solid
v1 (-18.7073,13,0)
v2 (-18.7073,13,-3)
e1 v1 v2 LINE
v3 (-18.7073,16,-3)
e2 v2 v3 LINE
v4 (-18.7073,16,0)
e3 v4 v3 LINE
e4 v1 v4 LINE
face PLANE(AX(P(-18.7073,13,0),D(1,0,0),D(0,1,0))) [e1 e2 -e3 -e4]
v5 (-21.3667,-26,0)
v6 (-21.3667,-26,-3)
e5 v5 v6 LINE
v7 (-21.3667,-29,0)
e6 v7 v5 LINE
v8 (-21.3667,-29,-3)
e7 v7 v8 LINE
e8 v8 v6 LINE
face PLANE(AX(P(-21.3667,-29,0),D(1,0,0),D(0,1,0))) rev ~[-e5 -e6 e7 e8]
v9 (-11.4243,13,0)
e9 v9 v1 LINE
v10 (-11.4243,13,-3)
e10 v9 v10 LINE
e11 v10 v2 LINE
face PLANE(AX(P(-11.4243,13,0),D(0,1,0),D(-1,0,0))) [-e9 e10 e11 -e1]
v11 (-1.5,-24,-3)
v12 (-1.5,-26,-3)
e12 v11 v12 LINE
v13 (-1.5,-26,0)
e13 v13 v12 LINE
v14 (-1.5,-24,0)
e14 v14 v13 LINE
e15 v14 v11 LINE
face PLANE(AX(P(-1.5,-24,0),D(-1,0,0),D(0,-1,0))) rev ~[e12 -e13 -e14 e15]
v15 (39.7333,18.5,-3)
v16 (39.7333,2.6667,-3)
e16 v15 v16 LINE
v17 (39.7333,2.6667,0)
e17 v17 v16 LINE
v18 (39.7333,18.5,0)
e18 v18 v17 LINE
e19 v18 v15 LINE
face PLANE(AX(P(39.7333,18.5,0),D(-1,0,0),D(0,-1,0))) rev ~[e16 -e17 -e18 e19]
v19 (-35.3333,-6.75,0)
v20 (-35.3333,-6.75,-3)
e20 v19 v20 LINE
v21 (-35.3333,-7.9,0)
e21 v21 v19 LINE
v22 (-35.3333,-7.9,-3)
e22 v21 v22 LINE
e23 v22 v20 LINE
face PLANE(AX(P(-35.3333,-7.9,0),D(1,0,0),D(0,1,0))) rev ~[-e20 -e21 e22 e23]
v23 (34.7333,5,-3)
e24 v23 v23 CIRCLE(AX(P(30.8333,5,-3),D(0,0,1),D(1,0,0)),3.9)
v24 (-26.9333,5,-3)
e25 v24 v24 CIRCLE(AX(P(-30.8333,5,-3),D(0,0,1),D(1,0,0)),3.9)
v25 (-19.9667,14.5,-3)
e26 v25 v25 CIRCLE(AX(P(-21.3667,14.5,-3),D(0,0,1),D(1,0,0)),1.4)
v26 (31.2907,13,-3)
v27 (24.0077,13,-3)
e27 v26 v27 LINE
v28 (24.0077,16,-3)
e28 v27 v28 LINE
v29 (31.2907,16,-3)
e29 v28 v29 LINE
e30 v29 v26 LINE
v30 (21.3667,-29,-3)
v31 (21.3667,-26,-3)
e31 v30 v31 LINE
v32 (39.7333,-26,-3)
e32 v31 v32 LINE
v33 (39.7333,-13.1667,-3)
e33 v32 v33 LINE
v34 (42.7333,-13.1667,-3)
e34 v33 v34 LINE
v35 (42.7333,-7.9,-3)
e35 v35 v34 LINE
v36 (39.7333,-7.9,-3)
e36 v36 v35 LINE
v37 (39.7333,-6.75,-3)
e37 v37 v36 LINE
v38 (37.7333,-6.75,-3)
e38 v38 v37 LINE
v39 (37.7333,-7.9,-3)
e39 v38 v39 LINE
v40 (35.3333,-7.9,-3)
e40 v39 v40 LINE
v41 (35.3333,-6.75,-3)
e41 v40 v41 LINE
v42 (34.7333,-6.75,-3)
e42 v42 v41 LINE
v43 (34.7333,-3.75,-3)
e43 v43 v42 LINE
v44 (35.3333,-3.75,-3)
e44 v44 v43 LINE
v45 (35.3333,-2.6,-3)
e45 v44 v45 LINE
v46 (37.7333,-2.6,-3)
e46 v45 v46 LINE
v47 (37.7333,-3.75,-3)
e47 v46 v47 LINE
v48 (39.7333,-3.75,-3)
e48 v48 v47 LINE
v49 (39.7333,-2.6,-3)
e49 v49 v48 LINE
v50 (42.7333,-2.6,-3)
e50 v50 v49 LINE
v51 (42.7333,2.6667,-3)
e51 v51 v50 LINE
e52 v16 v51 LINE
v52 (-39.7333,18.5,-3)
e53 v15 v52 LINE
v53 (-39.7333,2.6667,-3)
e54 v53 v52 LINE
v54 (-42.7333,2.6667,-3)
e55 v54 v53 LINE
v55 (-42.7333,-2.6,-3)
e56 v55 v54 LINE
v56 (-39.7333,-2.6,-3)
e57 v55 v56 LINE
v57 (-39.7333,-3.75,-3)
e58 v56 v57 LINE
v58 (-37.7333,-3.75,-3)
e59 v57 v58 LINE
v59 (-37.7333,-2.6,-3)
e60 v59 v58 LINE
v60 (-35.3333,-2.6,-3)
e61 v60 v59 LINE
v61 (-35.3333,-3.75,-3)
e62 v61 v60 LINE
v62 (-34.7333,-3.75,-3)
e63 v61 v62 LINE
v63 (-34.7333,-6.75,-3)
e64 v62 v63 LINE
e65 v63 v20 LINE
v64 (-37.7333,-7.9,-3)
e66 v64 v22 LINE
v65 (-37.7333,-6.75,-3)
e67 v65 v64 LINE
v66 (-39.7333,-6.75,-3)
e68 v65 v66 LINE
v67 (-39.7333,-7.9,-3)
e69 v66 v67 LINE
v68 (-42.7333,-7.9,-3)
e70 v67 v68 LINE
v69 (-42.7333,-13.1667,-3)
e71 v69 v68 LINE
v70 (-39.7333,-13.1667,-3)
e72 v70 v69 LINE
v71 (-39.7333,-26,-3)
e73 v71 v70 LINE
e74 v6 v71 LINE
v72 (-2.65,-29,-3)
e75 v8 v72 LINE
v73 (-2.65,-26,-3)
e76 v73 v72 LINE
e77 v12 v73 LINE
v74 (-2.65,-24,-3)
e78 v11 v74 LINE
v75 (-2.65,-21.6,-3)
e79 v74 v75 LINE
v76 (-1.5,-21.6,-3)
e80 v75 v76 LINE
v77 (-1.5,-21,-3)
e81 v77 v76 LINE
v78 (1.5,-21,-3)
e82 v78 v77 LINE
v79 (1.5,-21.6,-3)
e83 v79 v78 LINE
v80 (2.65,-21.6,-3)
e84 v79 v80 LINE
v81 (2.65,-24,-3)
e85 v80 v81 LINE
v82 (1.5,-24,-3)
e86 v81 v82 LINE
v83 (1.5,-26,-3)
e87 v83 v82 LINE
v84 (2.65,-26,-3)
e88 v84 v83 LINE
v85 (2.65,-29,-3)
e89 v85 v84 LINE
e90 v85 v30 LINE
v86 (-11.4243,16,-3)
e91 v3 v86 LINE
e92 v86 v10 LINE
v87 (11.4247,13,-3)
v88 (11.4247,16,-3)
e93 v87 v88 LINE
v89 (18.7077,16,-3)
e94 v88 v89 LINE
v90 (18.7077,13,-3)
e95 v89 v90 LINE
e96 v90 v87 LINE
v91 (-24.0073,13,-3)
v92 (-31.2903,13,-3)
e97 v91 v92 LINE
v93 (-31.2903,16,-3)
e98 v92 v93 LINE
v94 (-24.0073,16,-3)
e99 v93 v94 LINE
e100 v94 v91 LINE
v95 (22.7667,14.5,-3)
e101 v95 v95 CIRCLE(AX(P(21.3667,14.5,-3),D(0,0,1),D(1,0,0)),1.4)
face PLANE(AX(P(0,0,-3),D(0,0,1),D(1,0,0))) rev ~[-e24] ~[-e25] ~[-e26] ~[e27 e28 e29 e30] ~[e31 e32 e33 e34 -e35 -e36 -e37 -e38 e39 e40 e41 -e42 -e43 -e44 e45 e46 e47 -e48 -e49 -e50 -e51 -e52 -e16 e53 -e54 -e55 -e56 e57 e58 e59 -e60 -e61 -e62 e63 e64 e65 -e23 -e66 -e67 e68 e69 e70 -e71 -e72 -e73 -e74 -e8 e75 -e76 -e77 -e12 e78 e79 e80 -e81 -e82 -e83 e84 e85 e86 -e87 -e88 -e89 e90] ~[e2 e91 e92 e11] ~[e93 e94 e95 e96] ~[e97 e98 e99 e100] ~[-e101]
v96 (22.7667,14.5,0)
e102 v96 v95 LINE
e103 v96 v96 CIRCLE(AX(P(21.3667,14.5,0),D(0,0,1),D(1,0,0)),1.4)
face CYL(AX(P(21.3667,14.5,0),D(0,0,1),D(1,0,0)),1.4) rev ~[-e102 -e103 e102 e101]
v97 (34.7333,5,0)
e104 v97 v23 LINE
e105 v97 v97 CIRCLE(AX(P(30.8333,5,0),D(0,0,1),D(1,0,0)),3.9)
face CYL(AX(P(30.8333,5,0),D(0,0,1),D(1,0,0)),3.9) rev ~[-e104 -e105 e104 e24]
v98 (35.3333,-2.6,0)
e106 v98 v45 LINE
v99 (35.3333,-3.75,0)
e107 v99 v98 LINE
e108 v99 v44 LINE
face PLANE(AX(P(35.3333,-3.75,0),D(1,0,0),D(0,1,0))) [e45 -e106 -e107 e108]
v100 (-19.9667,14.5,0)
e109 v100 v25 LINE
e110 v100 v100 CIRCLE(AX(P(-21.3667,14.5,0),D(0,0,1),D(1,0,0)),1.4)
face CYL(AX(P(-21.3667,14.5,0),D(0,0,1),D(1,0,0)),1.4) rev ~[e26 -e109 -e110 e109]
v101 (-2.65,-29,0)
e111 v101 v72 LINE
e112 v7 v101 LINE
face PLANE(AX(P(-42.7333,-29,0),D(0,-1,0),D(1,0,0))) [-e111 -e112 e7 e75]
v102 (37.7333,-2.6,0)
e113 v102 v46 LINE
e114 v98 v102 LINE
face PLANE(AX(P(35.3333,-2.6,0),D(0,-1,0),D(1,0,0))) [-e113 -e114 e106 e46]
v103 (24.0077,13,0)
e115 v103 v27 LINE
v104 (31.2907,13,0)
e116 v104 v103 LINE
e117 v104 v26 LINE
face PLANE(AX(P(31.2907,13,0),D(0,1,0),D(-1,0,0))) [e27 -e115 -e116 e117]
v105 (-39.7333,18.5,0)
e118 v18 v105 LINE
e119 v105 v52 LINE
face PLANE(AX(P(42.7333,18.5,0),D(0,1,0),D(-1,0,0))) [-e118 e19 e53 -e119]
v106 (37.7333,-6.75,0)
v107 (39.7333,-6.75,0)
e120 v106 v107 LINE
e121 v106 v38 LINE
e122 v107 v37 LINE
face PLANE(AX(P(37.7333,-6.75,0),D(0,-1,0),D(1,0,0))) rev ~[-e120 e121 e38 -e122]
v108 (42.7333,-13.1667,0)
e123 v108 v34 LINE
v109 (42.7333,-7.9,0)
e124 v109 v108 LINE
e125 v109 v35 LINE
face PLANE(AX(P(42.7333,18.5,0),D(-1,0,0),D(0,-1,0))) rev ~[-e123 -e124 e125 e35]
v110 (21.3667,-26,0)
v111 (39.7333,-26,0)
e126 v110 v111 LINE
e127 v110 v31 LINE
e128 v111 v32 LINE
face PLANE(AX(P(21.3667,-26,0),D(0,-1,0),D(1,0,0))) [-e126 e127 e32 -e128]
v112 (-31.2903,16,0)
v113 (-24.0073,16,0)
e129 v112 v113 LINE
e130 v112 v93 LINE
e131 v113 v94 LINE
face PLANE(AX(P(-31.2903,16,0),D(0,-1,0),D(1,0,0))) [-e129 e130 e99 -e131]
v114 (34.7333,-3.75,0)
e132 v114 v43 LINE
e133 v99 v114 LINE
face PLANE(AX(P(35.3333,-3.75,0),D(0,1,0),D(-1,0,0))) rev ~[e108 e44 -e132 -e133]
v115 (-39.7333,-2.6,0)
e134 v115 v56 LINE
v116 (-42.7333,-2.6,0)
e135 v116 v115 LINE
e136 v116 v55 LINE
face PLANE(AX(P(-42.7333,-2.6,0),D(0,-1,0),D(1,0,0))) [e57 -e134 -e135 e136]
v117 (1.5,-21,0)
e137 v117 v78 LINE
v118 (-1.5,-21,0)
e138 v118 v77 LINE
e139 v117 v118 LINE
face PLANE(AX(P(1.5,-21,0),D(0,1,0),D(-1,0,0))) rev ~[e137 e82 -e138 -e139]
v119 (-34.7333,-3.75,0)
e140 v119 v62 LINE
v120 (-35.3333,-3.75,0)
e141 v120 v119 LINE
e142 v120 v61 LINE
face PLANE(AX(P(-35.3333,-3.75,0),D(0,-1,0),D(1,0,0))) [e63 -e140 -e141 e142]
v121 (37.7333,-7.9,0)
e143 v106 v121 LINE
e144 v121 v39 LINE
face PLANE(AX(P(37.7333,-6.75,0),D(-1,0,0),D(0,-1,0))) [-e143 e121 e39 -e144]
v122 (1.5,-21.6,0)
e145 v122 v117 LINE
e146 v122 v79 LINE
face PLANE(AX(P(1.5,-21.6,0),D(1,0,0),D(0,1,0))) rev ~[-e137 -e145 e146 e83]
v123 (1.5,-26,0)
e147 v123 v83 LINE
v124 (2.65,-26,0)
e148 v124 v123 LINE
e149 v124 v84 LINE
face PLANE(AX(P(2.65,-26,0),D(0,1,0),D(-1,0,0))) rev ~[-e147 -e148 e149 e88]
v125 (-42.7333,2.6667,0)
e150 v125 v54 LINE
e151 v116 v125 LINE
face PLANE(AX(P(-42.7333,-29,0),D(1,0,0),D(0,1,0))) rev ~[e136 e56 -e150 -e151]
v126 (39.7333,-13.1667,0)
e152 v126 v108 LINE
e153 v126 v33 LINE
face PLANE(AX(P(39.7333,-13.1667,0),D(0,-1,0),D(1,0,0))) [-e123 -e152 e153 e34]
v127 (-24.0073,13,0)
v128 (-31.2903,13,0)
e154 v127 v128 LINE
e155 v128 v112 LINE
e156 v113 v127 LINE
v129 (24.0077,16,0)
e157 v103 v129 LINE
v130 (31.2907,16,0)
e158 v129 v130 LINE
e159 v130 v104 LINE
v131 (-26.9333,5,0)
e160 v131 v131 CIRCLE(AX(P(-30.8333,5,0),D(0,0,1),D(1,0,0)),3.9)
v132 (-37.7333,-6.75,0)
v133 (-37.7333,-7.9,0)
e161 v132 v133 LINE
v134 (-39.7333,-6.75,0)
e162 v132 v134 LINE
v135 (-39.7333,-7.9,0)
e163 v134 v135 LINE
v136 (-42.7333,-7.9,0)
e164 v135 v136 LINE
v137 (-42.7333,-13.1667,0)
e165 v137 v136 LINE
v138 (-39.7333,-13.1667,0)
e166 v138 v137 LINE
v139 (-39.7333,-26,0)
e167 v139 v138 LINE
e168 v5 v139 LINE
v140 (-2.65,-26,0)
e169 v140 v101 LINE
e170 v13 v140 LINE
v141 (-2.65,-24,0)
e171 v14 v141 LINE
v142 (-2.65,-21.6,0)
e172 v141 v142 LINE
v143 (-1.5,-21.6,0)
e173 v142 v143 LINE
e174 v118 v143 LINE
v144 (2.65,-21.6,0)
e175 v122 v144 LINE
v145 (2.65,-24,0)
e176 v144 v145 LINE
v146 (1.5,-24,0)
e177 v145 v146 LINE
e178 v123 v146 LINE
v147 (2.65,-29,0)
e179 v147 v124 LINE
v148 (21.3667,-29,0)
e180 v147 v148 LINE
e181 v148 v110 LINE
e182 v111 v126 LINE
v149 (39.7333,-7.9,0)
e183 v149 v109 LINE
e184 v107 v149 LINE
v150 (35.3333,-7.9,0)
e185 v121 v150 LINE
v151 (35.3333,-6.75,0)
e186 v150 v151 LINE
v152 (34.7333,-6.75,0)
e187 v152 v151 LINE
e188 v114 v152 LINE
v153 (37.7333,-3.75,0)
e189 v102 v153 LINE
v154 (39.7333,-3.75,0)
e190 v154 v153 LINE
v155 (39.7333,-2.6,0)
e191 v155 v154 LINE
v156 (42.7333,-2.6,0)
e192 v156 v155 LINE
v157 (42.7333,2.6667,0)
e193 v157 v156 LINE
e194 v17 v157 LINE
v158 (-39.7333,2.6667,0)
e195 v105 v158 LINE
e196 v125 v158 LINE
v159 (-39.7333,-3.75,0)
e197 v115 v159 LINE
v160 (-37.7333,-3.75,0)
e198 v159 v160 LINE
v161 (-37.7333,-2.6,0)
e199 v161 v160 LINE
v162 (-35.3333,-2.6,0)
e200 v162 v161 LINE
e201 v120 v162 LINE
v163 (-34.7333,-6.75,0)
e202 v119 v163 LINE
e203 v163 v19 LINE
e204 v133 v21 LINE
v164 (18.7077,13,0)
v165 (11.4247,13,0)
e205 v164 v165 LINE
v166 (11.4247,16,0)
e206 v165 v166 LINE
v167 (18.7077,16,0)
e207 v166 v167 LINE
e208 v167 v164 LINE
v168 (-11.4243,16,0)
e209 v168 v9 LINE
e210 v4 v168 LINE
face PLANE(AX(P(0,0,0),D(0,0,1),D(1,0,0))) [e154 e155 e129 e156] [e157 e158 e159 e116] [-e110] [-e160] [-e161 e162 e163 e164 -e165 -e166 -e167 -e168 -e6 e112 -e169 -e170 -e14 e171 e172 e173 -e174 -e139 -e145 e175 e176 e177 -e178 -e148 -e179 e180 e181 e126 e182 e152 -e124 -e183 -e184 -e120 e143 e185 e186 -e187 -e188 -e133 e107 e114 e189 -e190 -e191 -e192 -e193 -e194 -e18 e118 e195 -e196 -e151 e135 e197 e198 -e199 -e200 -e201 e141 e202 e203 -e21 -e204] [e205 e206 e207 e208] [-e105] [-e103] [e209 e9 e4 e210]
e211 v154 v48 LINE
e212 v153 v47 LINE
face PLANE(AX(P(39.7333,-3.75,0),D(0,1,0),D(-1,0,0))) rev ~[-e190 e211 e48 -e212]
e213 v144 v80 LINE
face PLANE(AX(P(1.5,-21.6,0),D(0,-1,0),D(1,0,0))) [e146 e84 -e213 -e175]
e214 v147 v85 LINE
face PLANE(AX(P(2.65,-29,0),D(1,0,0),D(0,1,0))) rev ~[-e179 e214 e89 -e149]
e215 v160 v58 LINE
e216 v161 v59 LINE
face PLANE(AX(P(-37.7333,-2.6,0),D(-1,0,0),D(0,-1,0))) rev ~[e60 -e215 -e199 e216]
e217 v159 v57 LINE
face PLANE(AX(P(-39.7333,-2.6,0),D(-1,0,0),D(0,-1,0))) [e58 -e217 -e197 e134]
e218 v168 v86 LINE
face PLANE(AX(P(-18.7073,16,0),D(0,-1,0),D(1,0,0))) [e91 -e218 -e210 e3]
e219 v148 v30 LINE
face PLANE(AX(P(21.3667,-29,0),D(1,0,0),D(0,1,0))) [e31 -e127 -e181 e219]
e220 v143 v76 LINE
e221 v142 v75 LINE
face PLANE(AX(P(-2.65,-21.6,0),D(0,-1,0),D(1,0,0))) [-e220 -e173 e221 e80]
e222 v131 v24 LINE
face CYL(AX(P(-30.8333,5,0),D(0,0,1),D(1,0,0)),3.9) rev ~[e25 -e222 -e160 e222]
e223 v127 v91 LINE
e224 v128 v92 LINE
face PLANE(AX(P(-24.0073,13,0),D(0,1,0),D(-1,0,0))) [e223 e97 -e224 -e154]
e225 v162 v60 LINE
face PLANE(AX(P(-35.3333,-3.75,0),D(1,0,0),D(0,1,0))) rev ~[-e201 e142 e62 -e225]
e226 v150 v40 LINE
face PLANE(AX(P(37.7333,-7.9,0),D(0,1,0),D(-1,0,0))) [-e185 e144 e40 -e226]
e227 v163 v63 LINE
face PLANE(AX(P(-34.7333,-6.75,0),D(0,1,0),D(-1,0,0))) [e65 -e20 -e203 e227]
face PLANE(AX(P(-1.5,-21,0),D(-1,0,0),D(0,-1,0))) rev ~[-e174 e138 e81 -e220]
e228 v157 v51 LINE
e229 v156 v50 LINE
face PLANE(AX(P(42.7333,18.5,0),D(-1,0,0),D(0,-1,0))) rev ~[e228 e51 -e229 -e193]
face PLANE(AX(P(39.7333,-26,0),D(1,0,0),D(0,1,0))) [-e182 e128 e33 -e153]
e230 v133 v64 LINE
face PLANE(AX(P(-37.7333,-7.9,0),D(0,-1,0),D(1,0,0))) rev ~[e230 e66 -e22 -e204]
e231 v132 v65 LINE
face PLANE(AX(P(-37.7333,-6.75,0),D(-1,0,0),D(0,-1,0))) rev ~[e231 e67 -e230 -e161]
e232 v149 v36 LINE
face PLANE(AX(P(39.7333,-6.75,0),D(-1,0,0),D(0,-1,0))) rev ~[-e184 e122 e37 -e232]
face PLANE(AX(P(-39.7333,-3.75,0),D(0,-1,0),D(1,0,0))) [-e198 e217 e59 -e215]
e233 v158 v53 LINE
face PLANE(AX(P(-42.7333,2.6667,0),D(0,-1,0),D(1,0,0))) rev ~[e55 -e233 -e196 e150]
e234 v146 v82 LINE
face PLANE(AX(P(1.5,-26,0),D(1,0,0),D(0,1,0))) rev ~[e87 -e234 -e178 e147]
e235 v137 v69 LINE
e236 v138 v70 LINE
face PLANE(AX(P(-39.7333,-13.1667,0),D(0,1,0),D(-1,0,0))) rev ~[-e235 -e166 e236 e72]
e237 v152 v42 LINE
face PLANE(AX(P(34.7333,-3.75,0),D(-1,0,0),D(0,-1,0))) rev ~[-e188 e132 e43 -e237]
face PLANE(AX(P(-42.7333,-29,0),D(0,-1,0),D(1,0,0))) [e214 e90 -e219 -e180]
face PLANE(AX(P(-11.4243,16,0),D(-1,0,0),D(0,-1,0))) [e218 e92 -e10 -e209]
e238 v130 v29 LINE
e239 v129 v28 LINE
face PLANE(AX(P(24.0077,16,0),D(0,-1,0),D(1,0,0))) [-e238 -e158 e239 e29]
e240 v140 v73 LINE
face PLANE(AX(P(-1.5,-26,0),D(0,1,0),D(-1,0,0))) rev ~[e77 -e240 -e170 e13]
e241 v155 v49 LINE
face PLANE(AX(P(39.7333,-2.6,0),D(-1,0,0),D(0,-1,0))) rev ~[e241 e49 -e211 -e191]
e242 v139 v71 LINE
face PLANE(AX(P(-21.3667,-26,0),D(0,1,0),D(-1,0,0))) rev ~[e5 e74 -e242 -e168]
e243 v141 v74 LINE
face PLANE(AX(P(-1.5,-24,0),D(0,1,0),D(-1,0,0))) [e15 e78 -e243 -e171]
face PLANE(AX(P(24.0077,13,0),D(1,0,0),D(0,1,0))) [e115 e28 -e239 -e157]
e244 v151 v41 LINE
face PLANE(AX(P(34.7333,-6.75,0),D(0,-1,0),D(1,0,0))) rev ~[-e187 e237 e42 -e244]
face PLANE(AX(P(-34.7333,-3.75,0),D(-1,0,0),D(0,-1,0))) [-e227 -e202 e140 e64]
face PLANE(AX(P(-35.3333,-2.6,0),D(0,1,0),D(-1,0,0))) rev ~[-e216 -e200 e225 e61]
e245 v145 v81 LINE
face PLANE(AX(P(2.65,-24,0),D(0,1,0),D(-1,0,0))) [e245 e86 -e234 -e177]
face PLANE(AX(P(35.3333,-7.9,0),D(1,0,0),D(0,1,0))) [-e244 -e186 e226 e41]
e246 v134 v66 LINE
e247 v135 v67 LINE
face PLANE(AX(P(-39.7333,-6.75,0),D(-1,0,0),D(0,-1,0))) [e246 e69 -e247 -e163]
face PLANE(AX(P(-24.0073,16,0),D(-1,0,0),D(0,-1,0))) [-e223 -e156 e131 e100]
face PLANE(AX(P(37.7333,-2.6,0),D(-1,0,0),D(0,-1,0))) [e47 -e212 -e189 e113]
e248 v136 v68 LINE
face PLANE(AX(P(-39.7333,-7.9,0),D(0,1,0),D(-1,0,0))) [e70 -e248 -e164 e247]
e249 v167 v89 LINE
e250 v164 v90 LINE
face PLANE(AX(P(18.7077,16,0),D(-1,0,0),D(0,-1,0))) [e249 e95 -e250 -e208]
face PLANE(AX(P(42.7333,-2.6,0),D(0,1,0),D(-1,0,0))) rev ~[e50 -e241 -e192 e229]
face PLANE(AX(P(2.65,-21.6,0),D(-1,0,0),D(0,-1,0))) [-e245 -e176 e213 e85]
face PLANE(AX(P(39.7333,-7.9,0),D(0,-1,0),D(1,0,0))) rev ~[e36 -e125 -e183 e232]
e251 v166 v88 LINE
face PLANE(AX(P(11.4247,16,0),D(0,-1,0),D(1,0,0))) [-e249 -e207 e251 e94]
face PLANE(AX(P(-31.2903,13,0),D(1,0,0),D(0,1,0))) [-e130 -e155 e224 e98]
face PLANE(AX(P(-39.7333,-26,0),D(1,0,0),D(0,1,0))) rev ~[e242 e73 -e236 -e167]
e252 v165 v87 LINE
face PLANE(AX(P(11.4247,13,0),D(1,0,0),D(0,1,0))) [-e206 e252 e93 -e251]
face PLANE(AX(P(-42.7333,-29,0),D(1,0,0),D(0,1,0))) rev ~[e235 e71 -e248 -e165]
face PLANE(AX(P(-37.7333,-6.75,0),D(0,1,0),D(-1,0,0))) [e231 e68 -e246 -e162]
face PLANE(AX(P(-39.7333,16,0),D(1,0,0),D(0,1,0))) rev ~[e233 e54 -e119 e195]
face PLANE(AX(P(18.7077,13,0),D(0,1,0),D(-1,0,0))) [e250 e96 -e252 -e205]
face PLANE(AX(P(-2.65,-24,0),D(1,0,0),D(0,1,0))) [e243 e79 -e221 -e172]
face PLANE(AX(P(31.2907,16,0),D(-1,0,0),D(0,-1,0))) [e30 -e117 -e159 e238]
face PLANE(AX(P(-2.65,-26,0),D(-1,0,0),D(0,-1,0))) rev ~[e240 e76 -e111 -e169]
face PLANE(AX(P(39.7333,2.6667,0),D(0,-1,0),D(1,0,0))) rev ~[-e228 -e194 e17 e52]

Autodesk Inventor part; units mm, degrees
ref_plane "YZ Plane" through (0, 0, 0) normal (1, 0, 0) x (0, 1, 0)
ref_plane "XZ Plane" through (0, 0, 0) normal (0, 1, 0) x (-1, 0, 0)
ref_plane "XY Plane" through (0, 0, 0) normal (0, 0, 1) x (1, 0, 0)
sketch "Sketch1" plane through (0, 0, 0) normal (0, 0, 1) x (1, 0, 0)
  circle A0 centre (0, 5) radius 7.5
  line L0 (42.7333, 18.5) -> (-42.7333, 18.5)
  line L1 (-42.7333, -29) -> (42.7333, -29)
  circle A1 centre (18.5, 5) radius 2.25
  circle A2 centre (-18.5, 5) radius 2.25
  circle A3 centre (30.8333, 5) radius 3.9
  circle A4 centre (-30.8333, 5) radius 3.9
  line L2 (42.7333, 18.5) -> (42.7333, -29)
  line L3 (-42.7333, -29) -> (-42.7333, 18.5)
  circle A5 centre (0, 5) radius 13.5 construction
  line L4 (0, 41.7106) -> (0, -39.2634) construction
  dimension "d2" = 4.5
  dimension "d3" = 4.5
  dimension "d4" = 7.8
  dimension "d5" = 7.8
  dimension "d48" = 47.5
  dimension "d58" = 15
  dimension "d63" = 27
  dimension "d75" = 34
  dimension "d76" = 30.8333
  dimension "d77" = 85.4667
  dimension "d93" = 47.5
extrude "Extrusion1" add sketch "Sketch1" against normal blind 3 contours A0 | L2 L1 L3 L0 | A1 | A2
sketch "Sketch4" plane through (0, 0, 0) normal (0, 0, 1) x (1, 0, 0)
  line L0 (42.7333, 18.5) -> (39.7333, 18.5)
  line L1 (-42.7333, 18.5) -> (-39.7333, 18.5)
  line L2 (42.7333, -29) -> (21.3667, -29)
  line L3 (21.3667, -26) -> (39.7333, -26)
  line L4 (-42.7333, -29) -> (-21.3667, -29)
  line L5 (-21.3667, -29) -> (-21.3667, -26)
  line L6 (-21.3667, -26) -> (-39.7333, -26)
  line L7 (-42.7333, -23) -> (-42.7333, -29)
  line L8 (42.7333, 18.5) -> (39.7333, 18.5)
  line L9 (39.7333, 18.5) -> (39.7333, 2.6667)
  line L10 (39.7333, 2.6667) -> (42.7333, 2.6667)
  line L11 (42.7333, 2.6667) -> (42.7333, 18.5)
  line L12 (39.7333, -26) -> (39.7333, -13.1667)
  line L13 (39.7333, -13.1667) -> (42.7333, -13.1667)
  line L14 (-42.7333, 2.6667) -> (-39.7333, 2.6667)
  line L15 (-39.7333, 2.6667) -> (-39.7333, 18.5)
  line L16 (-39.7333, 18.5) -> (-42.7333, 18.5)
  line L17 (-42.7333, 18.5) -> (-42.7333, 2.6667)
  line L18 (-42.7333, -29) -> (-39.7333, -29)
  line L19 (-39.7333, -26) -> (-39.7333, -13.1667)
  line L20 (-39.7333, -13.1667) -> (-42.7333, -13.1667)
  line L21 (-42.7333, -13.1667) -> (-42.7333, -29)
  line L22 (21.3667, -29) -> (21.3667, -26)
  line L23 (-21.3667, -23) -> (-21.3667, -29)
  line L24 (-42.7333, 18.5) -> (-39.7333, 18.5)
  line L25 (-42.7333, -29) -> (42.7333, -29) projected
  line L26 (42.7333, 18.5) -> (-42.7333, 18.5) projected
  line L27 (50.1623, -5.25) -> (-50.4474, -5.25) construction
  line L28 (42.7333, -29) -> (42.7333, 18.5) projected
  line L29 (42.7333, -3.75) -> (34.7333, -3.75)
  line L30 (34.7333, -3.75) -> (34.7333, -6.75)
  line L31 (34.7333, -6.75) -> (42.7333, -6.75)
  line L32 (42.7333, -6.75) -> (42.7333, -3.75)
  circle A0 centre (0, 5) radius 13.5 construction
  circle A1 centre (0, 5) radius 7.5 construction
  line L33 (42.7333, -2.6) -> (39.7333, -2.6)
  line L34 (39.7333, -2.6) -> (39.7333, -7.9)
  line L35 (39.7333, -7.9) -> (42.7333, -7.9)
  line L36 (42.7333, -7.9) -> (42.7333, -2.6)
  line L37 (35.3333, -2.6) -> (37.7333, -2.6)
  line L38 (37.7333, -2.6) -> (37.7333, -7.9)
  line L39 (37.7333, -7.9) -> (35.3333, -7.9)
  line L40 (35.3333, -7.9) -> (35.3333, -2.6)
  line L41 (0, 33.7344) -> (0, -36.9537) construction
  line L42 (-42.7333, 18.5) -> (-42.7333, -29) projected
  line L43 (-42.7333, -3.75) -> (-34.7333, -3.75)
  line L44 (-34.7333, -3.75) -> (-34.7333, -6.75)
  line L45 (-34.7333, -6.75) -> (-42.7333, -6.75)
  line L46 (-42.7333, -6.75) -> (-42.7333, -3.75)
  line L47 (-42.7333, -2.6) -> (-39.7333, -2.6)
  line L48 (-39.7333, -2.6) -> (-39.7333, -7.9)
  line L49 (-39.7333, -7.9) -> (-42.7333, -7.9)
  line L50 (-42.7333, -7.9) -> (-42.7333, -2.6)
  line L51 (-35.3333, -2.6) -> (-37.7333, -2.6)
  line L52 (-37.7333, -2.6) -> (-37.7333, -7.9)
  line L53 (-37.7333, -7.9) -> (-35.3333, -7.9)
  line L54 (-35.3333, -7.9) -> (-35.3333, -2.6)
  line L55 (42.7333, -29) -> (-42.7333, -29) projected
  line L56 (-1.5, -29) -> (1.5, -29)
  line L57 (1.5, -29) -> (1.5, -21)
  line L58 (1.5, -21) -> (-1.5, -21)
  line L59 (-1.5, -21) -> (-1.5, -29)
  line L60 (-2.65, -29) -> (2.65, -29)
  line L61 (2.65, -29) -> (2.65, -26)
  line L62 (2.65, -26) -> (-2.65, -26)
  line L63 (-2.65, -26) -> (-2.65, -29)
  line L64 (-2.65, -21.6) -> (2.65, -21.6)
  line L65 (2.65, -21.6) -> (2.65, -24)
  line L66 (2.65, -24) -> (-2.65, -24)
  line L67 (-2.65, -24) -> (-2.65, -21.6)
  line L68 (31.3, 16) -> (24.0167, 16) construction
  line L69 (11.4333, 16) -> (11.4333, 13) construction
  line L70 (11.4333, 13) -> (18.7167, 13) construction
  line L71 (31.3, 13) -> (31.3, 16) construction
  circle A2 centre (30.8333, 5) radius 3.9 projected
  line L72 (21.3667, 17.602) -> (21.3667, 7.8585) construction
  line L73 (18.7167, 16) -> (24.0167, 16) construction
  line L74 (24.0167, 16) -> (24.0167, 13) construction
  line L75 (24.0167, 13) -> (18.7167, 13) construction
  line L76 (18.7167, 13) -> (18.7167, 16) construction
  line L77 (18.7167, 16) -> (11.4333, 16) construction
  line L78 (24.0167, 13) -> (31.3, 13) construction
  circle A3 centre (21.3667, 14.5) radius 1.4
  line L79 (-31.3, 16) -> (-24.0167, 16) construction
  line L80 (-11.4333, 16) -> (-11.4333, 13) construction
  line L81 (-11.4333, 13) -> (-18.7167, 13) construction
  line L82 (-31.3, 13) -> (-31.3, 16) construction
  line L83 (-24.0167, 16) -> (-24.0167, 13) construction
  line L84 (-18.7167, 13) -> (-18.7167, 16) construction
  line L85 (-18.7167, 16) -> (-11.4333, 16) construction
  line L86 (-24.0167, 13) -> (-31.3, 13) construction
  circle A4 centre (-21.3667, 14.5) radius 1.4
  line L87 (42.7333, 18.5) -> (42.7333, -29) projected
  line L88 (42.7333, -13.1667) -> (42.7333, -29)
  line L89 (18.7077, 16) -> (18.7077, 13)
  line L90 (19.8577, 13) -> (18.7077, 13)
  line L91 (19.8577, 16) -> (19.8577, 13)
  line L92 (18.7077, 16) -> (19.8577, 16)
  line L93 (11.4247, 16) -> (18.7077, 16)
  line L94 (11.4247, 13) -> (11.4247, 16)
  line L95 (11.4247, 13) -> (-11.4243, 13)
  line L96 (-11.4243, 16) -> (-11.4243, 13)
  line L97 (-18.7073, 16) -> (-11.4243, 16)
  line L98 (-18.7073, 13) -> (-18.7073, 16)
  line L99 (-18.7073, 13) -> (-19.8573, 13)
  line L100 (-19.8573, 13) -> (-19.8573, 16)
  line L101 (-19.8573, 16) -> (-18.7073, 16)
  line L102 (18.7077, 13) -> (11.4247, 13)
  line L103 (-11.4243, 16) -> (11.4247, 16)
  line L104 (-11.4243, 13) -> (-18.7073, 13)
  line L105 (24.0077, 13) -> (24.0077, 16)
  line L106 (22.8577, 16) -> (24.0077, 16)
  line L107 (22.8577, 13) -> (22.8577, 16)
  line L108 (24.0077, 13) -> (22.8577, 13)
  line L109 (31.2907, 13) -> (24.0077, 13)
  line L110 (31.2907, 16) -> (31.2907, 13)
  line L111 (31.2907, 16) -> (42.7337, 16)
  line L112 (42.7337, 16) -> (42.7337, 13)
  line L113 (42.7337, 13) -> (31.2907, 13)
  line L114 (24.0077, 16) -> (31.2907, 16)
  line L115 (-42.7333, 13) -> (-42.7333, 16)
  line L116 (-42.7333, 16) -> (-31.2903, 16)
  line L117 (-31.2903, 13) -> (-31.2903, 16)
  line L118 (-24.0073, 13) -> (-31.2903, 13)
  line L119 (-24.0073, 16) -> (-24.0073, 13)
  line L120 (-24.0073, 16) -> (-22.8573, 16)
  line L121 (-22.8573, 16) -> (-22.8573, 13)
  line L122 (-22.8573, 13) -> (-24.0073, 13)
  line L123 (-31.2903, 13) -> (-42.7333, 13)
  line L124 (-31.2903, 16) -> (-24.0073, 16)
  dimension "d25" = 3
  dimension "d26" = 3
  dimension "d33" = 15.8333
  dimension "d59" = 8
  dimension "d60" = 3
  dimension "d61" = 47.5
  dimension "d62" = 27
  dimension "d65" = 5.3
  dimension "d66" = 2.4
  dimension "d68" = 5
  dimension "d69" = 3
  dimension "d70" = 8
  dimension "d71" = 5.3
  dimension "d74" = 5
  dimension "d78" = 3
  dimension "d81" = 3
  dimension "d82" = 11
  dimension "d83" = 19.8667
  dimension "d85" = 79.4667
  dimension "d86" = 85.4667
  dimension "d87" = 3
  dimension "d88" = 5.3
  dimension "d89" = 2.8
  dimension "d91" = 15.8333
  dimension "d92" = 21.3667
  dimension "d94" = 2.4
  dimension "d95" = 2.4
extrude "Extrusion2" cut sketch "Sketch4" against normal through all contours L11 L111 L9 L0 | L11 L113 L9 L111 | L15 L116 L17 L1 | L11 L10 L9 L113 | L110 L109 L105 L114 | L15 L123 L17 L116 | L15 L14 L17 L123 | L124 L119 L118 L117 | L28 L29 L34 L33 | L28 L31 L34 L29 | L28 L35 L34 L31 | L34 L31 L38 L29 | L47 L48 L43 L42 | L38 L31 L40 L29 | L29 L40 L37 L38 | L43 L48 L45 L42 | L28 L2 L22 L3 L12 L13 | L38 L39 L40 L31 | L40 L31 L30 L29 | L45 L48 L49 L42 | L43 L52 L45 L48 | L52 L51 L54 L43 | L43 L54 L45 L52 | L20 L19 L6 L5 L4 L7 L21 | L45 L54 L53 L52 | L43 L44 L45 L54 | L25 L57 L62 L61 | L25 L59 L62 L57 | L25 L63 L62 L59 | L62 L59 L66 L57 | L66 L59 L64 L57 | L57 L64 L65 L66 | L66 L67 L64 L59 | L64 L59 L58 L57 | A3 | A4 | L89 L102 L94 L93 | L96 L104 L98 L97
equation "\"d48\" = d75 + 0.5 * d63"
equation "\"d33\" = 0.333333 * d61"
properties part number "X-Anchor_Back"
